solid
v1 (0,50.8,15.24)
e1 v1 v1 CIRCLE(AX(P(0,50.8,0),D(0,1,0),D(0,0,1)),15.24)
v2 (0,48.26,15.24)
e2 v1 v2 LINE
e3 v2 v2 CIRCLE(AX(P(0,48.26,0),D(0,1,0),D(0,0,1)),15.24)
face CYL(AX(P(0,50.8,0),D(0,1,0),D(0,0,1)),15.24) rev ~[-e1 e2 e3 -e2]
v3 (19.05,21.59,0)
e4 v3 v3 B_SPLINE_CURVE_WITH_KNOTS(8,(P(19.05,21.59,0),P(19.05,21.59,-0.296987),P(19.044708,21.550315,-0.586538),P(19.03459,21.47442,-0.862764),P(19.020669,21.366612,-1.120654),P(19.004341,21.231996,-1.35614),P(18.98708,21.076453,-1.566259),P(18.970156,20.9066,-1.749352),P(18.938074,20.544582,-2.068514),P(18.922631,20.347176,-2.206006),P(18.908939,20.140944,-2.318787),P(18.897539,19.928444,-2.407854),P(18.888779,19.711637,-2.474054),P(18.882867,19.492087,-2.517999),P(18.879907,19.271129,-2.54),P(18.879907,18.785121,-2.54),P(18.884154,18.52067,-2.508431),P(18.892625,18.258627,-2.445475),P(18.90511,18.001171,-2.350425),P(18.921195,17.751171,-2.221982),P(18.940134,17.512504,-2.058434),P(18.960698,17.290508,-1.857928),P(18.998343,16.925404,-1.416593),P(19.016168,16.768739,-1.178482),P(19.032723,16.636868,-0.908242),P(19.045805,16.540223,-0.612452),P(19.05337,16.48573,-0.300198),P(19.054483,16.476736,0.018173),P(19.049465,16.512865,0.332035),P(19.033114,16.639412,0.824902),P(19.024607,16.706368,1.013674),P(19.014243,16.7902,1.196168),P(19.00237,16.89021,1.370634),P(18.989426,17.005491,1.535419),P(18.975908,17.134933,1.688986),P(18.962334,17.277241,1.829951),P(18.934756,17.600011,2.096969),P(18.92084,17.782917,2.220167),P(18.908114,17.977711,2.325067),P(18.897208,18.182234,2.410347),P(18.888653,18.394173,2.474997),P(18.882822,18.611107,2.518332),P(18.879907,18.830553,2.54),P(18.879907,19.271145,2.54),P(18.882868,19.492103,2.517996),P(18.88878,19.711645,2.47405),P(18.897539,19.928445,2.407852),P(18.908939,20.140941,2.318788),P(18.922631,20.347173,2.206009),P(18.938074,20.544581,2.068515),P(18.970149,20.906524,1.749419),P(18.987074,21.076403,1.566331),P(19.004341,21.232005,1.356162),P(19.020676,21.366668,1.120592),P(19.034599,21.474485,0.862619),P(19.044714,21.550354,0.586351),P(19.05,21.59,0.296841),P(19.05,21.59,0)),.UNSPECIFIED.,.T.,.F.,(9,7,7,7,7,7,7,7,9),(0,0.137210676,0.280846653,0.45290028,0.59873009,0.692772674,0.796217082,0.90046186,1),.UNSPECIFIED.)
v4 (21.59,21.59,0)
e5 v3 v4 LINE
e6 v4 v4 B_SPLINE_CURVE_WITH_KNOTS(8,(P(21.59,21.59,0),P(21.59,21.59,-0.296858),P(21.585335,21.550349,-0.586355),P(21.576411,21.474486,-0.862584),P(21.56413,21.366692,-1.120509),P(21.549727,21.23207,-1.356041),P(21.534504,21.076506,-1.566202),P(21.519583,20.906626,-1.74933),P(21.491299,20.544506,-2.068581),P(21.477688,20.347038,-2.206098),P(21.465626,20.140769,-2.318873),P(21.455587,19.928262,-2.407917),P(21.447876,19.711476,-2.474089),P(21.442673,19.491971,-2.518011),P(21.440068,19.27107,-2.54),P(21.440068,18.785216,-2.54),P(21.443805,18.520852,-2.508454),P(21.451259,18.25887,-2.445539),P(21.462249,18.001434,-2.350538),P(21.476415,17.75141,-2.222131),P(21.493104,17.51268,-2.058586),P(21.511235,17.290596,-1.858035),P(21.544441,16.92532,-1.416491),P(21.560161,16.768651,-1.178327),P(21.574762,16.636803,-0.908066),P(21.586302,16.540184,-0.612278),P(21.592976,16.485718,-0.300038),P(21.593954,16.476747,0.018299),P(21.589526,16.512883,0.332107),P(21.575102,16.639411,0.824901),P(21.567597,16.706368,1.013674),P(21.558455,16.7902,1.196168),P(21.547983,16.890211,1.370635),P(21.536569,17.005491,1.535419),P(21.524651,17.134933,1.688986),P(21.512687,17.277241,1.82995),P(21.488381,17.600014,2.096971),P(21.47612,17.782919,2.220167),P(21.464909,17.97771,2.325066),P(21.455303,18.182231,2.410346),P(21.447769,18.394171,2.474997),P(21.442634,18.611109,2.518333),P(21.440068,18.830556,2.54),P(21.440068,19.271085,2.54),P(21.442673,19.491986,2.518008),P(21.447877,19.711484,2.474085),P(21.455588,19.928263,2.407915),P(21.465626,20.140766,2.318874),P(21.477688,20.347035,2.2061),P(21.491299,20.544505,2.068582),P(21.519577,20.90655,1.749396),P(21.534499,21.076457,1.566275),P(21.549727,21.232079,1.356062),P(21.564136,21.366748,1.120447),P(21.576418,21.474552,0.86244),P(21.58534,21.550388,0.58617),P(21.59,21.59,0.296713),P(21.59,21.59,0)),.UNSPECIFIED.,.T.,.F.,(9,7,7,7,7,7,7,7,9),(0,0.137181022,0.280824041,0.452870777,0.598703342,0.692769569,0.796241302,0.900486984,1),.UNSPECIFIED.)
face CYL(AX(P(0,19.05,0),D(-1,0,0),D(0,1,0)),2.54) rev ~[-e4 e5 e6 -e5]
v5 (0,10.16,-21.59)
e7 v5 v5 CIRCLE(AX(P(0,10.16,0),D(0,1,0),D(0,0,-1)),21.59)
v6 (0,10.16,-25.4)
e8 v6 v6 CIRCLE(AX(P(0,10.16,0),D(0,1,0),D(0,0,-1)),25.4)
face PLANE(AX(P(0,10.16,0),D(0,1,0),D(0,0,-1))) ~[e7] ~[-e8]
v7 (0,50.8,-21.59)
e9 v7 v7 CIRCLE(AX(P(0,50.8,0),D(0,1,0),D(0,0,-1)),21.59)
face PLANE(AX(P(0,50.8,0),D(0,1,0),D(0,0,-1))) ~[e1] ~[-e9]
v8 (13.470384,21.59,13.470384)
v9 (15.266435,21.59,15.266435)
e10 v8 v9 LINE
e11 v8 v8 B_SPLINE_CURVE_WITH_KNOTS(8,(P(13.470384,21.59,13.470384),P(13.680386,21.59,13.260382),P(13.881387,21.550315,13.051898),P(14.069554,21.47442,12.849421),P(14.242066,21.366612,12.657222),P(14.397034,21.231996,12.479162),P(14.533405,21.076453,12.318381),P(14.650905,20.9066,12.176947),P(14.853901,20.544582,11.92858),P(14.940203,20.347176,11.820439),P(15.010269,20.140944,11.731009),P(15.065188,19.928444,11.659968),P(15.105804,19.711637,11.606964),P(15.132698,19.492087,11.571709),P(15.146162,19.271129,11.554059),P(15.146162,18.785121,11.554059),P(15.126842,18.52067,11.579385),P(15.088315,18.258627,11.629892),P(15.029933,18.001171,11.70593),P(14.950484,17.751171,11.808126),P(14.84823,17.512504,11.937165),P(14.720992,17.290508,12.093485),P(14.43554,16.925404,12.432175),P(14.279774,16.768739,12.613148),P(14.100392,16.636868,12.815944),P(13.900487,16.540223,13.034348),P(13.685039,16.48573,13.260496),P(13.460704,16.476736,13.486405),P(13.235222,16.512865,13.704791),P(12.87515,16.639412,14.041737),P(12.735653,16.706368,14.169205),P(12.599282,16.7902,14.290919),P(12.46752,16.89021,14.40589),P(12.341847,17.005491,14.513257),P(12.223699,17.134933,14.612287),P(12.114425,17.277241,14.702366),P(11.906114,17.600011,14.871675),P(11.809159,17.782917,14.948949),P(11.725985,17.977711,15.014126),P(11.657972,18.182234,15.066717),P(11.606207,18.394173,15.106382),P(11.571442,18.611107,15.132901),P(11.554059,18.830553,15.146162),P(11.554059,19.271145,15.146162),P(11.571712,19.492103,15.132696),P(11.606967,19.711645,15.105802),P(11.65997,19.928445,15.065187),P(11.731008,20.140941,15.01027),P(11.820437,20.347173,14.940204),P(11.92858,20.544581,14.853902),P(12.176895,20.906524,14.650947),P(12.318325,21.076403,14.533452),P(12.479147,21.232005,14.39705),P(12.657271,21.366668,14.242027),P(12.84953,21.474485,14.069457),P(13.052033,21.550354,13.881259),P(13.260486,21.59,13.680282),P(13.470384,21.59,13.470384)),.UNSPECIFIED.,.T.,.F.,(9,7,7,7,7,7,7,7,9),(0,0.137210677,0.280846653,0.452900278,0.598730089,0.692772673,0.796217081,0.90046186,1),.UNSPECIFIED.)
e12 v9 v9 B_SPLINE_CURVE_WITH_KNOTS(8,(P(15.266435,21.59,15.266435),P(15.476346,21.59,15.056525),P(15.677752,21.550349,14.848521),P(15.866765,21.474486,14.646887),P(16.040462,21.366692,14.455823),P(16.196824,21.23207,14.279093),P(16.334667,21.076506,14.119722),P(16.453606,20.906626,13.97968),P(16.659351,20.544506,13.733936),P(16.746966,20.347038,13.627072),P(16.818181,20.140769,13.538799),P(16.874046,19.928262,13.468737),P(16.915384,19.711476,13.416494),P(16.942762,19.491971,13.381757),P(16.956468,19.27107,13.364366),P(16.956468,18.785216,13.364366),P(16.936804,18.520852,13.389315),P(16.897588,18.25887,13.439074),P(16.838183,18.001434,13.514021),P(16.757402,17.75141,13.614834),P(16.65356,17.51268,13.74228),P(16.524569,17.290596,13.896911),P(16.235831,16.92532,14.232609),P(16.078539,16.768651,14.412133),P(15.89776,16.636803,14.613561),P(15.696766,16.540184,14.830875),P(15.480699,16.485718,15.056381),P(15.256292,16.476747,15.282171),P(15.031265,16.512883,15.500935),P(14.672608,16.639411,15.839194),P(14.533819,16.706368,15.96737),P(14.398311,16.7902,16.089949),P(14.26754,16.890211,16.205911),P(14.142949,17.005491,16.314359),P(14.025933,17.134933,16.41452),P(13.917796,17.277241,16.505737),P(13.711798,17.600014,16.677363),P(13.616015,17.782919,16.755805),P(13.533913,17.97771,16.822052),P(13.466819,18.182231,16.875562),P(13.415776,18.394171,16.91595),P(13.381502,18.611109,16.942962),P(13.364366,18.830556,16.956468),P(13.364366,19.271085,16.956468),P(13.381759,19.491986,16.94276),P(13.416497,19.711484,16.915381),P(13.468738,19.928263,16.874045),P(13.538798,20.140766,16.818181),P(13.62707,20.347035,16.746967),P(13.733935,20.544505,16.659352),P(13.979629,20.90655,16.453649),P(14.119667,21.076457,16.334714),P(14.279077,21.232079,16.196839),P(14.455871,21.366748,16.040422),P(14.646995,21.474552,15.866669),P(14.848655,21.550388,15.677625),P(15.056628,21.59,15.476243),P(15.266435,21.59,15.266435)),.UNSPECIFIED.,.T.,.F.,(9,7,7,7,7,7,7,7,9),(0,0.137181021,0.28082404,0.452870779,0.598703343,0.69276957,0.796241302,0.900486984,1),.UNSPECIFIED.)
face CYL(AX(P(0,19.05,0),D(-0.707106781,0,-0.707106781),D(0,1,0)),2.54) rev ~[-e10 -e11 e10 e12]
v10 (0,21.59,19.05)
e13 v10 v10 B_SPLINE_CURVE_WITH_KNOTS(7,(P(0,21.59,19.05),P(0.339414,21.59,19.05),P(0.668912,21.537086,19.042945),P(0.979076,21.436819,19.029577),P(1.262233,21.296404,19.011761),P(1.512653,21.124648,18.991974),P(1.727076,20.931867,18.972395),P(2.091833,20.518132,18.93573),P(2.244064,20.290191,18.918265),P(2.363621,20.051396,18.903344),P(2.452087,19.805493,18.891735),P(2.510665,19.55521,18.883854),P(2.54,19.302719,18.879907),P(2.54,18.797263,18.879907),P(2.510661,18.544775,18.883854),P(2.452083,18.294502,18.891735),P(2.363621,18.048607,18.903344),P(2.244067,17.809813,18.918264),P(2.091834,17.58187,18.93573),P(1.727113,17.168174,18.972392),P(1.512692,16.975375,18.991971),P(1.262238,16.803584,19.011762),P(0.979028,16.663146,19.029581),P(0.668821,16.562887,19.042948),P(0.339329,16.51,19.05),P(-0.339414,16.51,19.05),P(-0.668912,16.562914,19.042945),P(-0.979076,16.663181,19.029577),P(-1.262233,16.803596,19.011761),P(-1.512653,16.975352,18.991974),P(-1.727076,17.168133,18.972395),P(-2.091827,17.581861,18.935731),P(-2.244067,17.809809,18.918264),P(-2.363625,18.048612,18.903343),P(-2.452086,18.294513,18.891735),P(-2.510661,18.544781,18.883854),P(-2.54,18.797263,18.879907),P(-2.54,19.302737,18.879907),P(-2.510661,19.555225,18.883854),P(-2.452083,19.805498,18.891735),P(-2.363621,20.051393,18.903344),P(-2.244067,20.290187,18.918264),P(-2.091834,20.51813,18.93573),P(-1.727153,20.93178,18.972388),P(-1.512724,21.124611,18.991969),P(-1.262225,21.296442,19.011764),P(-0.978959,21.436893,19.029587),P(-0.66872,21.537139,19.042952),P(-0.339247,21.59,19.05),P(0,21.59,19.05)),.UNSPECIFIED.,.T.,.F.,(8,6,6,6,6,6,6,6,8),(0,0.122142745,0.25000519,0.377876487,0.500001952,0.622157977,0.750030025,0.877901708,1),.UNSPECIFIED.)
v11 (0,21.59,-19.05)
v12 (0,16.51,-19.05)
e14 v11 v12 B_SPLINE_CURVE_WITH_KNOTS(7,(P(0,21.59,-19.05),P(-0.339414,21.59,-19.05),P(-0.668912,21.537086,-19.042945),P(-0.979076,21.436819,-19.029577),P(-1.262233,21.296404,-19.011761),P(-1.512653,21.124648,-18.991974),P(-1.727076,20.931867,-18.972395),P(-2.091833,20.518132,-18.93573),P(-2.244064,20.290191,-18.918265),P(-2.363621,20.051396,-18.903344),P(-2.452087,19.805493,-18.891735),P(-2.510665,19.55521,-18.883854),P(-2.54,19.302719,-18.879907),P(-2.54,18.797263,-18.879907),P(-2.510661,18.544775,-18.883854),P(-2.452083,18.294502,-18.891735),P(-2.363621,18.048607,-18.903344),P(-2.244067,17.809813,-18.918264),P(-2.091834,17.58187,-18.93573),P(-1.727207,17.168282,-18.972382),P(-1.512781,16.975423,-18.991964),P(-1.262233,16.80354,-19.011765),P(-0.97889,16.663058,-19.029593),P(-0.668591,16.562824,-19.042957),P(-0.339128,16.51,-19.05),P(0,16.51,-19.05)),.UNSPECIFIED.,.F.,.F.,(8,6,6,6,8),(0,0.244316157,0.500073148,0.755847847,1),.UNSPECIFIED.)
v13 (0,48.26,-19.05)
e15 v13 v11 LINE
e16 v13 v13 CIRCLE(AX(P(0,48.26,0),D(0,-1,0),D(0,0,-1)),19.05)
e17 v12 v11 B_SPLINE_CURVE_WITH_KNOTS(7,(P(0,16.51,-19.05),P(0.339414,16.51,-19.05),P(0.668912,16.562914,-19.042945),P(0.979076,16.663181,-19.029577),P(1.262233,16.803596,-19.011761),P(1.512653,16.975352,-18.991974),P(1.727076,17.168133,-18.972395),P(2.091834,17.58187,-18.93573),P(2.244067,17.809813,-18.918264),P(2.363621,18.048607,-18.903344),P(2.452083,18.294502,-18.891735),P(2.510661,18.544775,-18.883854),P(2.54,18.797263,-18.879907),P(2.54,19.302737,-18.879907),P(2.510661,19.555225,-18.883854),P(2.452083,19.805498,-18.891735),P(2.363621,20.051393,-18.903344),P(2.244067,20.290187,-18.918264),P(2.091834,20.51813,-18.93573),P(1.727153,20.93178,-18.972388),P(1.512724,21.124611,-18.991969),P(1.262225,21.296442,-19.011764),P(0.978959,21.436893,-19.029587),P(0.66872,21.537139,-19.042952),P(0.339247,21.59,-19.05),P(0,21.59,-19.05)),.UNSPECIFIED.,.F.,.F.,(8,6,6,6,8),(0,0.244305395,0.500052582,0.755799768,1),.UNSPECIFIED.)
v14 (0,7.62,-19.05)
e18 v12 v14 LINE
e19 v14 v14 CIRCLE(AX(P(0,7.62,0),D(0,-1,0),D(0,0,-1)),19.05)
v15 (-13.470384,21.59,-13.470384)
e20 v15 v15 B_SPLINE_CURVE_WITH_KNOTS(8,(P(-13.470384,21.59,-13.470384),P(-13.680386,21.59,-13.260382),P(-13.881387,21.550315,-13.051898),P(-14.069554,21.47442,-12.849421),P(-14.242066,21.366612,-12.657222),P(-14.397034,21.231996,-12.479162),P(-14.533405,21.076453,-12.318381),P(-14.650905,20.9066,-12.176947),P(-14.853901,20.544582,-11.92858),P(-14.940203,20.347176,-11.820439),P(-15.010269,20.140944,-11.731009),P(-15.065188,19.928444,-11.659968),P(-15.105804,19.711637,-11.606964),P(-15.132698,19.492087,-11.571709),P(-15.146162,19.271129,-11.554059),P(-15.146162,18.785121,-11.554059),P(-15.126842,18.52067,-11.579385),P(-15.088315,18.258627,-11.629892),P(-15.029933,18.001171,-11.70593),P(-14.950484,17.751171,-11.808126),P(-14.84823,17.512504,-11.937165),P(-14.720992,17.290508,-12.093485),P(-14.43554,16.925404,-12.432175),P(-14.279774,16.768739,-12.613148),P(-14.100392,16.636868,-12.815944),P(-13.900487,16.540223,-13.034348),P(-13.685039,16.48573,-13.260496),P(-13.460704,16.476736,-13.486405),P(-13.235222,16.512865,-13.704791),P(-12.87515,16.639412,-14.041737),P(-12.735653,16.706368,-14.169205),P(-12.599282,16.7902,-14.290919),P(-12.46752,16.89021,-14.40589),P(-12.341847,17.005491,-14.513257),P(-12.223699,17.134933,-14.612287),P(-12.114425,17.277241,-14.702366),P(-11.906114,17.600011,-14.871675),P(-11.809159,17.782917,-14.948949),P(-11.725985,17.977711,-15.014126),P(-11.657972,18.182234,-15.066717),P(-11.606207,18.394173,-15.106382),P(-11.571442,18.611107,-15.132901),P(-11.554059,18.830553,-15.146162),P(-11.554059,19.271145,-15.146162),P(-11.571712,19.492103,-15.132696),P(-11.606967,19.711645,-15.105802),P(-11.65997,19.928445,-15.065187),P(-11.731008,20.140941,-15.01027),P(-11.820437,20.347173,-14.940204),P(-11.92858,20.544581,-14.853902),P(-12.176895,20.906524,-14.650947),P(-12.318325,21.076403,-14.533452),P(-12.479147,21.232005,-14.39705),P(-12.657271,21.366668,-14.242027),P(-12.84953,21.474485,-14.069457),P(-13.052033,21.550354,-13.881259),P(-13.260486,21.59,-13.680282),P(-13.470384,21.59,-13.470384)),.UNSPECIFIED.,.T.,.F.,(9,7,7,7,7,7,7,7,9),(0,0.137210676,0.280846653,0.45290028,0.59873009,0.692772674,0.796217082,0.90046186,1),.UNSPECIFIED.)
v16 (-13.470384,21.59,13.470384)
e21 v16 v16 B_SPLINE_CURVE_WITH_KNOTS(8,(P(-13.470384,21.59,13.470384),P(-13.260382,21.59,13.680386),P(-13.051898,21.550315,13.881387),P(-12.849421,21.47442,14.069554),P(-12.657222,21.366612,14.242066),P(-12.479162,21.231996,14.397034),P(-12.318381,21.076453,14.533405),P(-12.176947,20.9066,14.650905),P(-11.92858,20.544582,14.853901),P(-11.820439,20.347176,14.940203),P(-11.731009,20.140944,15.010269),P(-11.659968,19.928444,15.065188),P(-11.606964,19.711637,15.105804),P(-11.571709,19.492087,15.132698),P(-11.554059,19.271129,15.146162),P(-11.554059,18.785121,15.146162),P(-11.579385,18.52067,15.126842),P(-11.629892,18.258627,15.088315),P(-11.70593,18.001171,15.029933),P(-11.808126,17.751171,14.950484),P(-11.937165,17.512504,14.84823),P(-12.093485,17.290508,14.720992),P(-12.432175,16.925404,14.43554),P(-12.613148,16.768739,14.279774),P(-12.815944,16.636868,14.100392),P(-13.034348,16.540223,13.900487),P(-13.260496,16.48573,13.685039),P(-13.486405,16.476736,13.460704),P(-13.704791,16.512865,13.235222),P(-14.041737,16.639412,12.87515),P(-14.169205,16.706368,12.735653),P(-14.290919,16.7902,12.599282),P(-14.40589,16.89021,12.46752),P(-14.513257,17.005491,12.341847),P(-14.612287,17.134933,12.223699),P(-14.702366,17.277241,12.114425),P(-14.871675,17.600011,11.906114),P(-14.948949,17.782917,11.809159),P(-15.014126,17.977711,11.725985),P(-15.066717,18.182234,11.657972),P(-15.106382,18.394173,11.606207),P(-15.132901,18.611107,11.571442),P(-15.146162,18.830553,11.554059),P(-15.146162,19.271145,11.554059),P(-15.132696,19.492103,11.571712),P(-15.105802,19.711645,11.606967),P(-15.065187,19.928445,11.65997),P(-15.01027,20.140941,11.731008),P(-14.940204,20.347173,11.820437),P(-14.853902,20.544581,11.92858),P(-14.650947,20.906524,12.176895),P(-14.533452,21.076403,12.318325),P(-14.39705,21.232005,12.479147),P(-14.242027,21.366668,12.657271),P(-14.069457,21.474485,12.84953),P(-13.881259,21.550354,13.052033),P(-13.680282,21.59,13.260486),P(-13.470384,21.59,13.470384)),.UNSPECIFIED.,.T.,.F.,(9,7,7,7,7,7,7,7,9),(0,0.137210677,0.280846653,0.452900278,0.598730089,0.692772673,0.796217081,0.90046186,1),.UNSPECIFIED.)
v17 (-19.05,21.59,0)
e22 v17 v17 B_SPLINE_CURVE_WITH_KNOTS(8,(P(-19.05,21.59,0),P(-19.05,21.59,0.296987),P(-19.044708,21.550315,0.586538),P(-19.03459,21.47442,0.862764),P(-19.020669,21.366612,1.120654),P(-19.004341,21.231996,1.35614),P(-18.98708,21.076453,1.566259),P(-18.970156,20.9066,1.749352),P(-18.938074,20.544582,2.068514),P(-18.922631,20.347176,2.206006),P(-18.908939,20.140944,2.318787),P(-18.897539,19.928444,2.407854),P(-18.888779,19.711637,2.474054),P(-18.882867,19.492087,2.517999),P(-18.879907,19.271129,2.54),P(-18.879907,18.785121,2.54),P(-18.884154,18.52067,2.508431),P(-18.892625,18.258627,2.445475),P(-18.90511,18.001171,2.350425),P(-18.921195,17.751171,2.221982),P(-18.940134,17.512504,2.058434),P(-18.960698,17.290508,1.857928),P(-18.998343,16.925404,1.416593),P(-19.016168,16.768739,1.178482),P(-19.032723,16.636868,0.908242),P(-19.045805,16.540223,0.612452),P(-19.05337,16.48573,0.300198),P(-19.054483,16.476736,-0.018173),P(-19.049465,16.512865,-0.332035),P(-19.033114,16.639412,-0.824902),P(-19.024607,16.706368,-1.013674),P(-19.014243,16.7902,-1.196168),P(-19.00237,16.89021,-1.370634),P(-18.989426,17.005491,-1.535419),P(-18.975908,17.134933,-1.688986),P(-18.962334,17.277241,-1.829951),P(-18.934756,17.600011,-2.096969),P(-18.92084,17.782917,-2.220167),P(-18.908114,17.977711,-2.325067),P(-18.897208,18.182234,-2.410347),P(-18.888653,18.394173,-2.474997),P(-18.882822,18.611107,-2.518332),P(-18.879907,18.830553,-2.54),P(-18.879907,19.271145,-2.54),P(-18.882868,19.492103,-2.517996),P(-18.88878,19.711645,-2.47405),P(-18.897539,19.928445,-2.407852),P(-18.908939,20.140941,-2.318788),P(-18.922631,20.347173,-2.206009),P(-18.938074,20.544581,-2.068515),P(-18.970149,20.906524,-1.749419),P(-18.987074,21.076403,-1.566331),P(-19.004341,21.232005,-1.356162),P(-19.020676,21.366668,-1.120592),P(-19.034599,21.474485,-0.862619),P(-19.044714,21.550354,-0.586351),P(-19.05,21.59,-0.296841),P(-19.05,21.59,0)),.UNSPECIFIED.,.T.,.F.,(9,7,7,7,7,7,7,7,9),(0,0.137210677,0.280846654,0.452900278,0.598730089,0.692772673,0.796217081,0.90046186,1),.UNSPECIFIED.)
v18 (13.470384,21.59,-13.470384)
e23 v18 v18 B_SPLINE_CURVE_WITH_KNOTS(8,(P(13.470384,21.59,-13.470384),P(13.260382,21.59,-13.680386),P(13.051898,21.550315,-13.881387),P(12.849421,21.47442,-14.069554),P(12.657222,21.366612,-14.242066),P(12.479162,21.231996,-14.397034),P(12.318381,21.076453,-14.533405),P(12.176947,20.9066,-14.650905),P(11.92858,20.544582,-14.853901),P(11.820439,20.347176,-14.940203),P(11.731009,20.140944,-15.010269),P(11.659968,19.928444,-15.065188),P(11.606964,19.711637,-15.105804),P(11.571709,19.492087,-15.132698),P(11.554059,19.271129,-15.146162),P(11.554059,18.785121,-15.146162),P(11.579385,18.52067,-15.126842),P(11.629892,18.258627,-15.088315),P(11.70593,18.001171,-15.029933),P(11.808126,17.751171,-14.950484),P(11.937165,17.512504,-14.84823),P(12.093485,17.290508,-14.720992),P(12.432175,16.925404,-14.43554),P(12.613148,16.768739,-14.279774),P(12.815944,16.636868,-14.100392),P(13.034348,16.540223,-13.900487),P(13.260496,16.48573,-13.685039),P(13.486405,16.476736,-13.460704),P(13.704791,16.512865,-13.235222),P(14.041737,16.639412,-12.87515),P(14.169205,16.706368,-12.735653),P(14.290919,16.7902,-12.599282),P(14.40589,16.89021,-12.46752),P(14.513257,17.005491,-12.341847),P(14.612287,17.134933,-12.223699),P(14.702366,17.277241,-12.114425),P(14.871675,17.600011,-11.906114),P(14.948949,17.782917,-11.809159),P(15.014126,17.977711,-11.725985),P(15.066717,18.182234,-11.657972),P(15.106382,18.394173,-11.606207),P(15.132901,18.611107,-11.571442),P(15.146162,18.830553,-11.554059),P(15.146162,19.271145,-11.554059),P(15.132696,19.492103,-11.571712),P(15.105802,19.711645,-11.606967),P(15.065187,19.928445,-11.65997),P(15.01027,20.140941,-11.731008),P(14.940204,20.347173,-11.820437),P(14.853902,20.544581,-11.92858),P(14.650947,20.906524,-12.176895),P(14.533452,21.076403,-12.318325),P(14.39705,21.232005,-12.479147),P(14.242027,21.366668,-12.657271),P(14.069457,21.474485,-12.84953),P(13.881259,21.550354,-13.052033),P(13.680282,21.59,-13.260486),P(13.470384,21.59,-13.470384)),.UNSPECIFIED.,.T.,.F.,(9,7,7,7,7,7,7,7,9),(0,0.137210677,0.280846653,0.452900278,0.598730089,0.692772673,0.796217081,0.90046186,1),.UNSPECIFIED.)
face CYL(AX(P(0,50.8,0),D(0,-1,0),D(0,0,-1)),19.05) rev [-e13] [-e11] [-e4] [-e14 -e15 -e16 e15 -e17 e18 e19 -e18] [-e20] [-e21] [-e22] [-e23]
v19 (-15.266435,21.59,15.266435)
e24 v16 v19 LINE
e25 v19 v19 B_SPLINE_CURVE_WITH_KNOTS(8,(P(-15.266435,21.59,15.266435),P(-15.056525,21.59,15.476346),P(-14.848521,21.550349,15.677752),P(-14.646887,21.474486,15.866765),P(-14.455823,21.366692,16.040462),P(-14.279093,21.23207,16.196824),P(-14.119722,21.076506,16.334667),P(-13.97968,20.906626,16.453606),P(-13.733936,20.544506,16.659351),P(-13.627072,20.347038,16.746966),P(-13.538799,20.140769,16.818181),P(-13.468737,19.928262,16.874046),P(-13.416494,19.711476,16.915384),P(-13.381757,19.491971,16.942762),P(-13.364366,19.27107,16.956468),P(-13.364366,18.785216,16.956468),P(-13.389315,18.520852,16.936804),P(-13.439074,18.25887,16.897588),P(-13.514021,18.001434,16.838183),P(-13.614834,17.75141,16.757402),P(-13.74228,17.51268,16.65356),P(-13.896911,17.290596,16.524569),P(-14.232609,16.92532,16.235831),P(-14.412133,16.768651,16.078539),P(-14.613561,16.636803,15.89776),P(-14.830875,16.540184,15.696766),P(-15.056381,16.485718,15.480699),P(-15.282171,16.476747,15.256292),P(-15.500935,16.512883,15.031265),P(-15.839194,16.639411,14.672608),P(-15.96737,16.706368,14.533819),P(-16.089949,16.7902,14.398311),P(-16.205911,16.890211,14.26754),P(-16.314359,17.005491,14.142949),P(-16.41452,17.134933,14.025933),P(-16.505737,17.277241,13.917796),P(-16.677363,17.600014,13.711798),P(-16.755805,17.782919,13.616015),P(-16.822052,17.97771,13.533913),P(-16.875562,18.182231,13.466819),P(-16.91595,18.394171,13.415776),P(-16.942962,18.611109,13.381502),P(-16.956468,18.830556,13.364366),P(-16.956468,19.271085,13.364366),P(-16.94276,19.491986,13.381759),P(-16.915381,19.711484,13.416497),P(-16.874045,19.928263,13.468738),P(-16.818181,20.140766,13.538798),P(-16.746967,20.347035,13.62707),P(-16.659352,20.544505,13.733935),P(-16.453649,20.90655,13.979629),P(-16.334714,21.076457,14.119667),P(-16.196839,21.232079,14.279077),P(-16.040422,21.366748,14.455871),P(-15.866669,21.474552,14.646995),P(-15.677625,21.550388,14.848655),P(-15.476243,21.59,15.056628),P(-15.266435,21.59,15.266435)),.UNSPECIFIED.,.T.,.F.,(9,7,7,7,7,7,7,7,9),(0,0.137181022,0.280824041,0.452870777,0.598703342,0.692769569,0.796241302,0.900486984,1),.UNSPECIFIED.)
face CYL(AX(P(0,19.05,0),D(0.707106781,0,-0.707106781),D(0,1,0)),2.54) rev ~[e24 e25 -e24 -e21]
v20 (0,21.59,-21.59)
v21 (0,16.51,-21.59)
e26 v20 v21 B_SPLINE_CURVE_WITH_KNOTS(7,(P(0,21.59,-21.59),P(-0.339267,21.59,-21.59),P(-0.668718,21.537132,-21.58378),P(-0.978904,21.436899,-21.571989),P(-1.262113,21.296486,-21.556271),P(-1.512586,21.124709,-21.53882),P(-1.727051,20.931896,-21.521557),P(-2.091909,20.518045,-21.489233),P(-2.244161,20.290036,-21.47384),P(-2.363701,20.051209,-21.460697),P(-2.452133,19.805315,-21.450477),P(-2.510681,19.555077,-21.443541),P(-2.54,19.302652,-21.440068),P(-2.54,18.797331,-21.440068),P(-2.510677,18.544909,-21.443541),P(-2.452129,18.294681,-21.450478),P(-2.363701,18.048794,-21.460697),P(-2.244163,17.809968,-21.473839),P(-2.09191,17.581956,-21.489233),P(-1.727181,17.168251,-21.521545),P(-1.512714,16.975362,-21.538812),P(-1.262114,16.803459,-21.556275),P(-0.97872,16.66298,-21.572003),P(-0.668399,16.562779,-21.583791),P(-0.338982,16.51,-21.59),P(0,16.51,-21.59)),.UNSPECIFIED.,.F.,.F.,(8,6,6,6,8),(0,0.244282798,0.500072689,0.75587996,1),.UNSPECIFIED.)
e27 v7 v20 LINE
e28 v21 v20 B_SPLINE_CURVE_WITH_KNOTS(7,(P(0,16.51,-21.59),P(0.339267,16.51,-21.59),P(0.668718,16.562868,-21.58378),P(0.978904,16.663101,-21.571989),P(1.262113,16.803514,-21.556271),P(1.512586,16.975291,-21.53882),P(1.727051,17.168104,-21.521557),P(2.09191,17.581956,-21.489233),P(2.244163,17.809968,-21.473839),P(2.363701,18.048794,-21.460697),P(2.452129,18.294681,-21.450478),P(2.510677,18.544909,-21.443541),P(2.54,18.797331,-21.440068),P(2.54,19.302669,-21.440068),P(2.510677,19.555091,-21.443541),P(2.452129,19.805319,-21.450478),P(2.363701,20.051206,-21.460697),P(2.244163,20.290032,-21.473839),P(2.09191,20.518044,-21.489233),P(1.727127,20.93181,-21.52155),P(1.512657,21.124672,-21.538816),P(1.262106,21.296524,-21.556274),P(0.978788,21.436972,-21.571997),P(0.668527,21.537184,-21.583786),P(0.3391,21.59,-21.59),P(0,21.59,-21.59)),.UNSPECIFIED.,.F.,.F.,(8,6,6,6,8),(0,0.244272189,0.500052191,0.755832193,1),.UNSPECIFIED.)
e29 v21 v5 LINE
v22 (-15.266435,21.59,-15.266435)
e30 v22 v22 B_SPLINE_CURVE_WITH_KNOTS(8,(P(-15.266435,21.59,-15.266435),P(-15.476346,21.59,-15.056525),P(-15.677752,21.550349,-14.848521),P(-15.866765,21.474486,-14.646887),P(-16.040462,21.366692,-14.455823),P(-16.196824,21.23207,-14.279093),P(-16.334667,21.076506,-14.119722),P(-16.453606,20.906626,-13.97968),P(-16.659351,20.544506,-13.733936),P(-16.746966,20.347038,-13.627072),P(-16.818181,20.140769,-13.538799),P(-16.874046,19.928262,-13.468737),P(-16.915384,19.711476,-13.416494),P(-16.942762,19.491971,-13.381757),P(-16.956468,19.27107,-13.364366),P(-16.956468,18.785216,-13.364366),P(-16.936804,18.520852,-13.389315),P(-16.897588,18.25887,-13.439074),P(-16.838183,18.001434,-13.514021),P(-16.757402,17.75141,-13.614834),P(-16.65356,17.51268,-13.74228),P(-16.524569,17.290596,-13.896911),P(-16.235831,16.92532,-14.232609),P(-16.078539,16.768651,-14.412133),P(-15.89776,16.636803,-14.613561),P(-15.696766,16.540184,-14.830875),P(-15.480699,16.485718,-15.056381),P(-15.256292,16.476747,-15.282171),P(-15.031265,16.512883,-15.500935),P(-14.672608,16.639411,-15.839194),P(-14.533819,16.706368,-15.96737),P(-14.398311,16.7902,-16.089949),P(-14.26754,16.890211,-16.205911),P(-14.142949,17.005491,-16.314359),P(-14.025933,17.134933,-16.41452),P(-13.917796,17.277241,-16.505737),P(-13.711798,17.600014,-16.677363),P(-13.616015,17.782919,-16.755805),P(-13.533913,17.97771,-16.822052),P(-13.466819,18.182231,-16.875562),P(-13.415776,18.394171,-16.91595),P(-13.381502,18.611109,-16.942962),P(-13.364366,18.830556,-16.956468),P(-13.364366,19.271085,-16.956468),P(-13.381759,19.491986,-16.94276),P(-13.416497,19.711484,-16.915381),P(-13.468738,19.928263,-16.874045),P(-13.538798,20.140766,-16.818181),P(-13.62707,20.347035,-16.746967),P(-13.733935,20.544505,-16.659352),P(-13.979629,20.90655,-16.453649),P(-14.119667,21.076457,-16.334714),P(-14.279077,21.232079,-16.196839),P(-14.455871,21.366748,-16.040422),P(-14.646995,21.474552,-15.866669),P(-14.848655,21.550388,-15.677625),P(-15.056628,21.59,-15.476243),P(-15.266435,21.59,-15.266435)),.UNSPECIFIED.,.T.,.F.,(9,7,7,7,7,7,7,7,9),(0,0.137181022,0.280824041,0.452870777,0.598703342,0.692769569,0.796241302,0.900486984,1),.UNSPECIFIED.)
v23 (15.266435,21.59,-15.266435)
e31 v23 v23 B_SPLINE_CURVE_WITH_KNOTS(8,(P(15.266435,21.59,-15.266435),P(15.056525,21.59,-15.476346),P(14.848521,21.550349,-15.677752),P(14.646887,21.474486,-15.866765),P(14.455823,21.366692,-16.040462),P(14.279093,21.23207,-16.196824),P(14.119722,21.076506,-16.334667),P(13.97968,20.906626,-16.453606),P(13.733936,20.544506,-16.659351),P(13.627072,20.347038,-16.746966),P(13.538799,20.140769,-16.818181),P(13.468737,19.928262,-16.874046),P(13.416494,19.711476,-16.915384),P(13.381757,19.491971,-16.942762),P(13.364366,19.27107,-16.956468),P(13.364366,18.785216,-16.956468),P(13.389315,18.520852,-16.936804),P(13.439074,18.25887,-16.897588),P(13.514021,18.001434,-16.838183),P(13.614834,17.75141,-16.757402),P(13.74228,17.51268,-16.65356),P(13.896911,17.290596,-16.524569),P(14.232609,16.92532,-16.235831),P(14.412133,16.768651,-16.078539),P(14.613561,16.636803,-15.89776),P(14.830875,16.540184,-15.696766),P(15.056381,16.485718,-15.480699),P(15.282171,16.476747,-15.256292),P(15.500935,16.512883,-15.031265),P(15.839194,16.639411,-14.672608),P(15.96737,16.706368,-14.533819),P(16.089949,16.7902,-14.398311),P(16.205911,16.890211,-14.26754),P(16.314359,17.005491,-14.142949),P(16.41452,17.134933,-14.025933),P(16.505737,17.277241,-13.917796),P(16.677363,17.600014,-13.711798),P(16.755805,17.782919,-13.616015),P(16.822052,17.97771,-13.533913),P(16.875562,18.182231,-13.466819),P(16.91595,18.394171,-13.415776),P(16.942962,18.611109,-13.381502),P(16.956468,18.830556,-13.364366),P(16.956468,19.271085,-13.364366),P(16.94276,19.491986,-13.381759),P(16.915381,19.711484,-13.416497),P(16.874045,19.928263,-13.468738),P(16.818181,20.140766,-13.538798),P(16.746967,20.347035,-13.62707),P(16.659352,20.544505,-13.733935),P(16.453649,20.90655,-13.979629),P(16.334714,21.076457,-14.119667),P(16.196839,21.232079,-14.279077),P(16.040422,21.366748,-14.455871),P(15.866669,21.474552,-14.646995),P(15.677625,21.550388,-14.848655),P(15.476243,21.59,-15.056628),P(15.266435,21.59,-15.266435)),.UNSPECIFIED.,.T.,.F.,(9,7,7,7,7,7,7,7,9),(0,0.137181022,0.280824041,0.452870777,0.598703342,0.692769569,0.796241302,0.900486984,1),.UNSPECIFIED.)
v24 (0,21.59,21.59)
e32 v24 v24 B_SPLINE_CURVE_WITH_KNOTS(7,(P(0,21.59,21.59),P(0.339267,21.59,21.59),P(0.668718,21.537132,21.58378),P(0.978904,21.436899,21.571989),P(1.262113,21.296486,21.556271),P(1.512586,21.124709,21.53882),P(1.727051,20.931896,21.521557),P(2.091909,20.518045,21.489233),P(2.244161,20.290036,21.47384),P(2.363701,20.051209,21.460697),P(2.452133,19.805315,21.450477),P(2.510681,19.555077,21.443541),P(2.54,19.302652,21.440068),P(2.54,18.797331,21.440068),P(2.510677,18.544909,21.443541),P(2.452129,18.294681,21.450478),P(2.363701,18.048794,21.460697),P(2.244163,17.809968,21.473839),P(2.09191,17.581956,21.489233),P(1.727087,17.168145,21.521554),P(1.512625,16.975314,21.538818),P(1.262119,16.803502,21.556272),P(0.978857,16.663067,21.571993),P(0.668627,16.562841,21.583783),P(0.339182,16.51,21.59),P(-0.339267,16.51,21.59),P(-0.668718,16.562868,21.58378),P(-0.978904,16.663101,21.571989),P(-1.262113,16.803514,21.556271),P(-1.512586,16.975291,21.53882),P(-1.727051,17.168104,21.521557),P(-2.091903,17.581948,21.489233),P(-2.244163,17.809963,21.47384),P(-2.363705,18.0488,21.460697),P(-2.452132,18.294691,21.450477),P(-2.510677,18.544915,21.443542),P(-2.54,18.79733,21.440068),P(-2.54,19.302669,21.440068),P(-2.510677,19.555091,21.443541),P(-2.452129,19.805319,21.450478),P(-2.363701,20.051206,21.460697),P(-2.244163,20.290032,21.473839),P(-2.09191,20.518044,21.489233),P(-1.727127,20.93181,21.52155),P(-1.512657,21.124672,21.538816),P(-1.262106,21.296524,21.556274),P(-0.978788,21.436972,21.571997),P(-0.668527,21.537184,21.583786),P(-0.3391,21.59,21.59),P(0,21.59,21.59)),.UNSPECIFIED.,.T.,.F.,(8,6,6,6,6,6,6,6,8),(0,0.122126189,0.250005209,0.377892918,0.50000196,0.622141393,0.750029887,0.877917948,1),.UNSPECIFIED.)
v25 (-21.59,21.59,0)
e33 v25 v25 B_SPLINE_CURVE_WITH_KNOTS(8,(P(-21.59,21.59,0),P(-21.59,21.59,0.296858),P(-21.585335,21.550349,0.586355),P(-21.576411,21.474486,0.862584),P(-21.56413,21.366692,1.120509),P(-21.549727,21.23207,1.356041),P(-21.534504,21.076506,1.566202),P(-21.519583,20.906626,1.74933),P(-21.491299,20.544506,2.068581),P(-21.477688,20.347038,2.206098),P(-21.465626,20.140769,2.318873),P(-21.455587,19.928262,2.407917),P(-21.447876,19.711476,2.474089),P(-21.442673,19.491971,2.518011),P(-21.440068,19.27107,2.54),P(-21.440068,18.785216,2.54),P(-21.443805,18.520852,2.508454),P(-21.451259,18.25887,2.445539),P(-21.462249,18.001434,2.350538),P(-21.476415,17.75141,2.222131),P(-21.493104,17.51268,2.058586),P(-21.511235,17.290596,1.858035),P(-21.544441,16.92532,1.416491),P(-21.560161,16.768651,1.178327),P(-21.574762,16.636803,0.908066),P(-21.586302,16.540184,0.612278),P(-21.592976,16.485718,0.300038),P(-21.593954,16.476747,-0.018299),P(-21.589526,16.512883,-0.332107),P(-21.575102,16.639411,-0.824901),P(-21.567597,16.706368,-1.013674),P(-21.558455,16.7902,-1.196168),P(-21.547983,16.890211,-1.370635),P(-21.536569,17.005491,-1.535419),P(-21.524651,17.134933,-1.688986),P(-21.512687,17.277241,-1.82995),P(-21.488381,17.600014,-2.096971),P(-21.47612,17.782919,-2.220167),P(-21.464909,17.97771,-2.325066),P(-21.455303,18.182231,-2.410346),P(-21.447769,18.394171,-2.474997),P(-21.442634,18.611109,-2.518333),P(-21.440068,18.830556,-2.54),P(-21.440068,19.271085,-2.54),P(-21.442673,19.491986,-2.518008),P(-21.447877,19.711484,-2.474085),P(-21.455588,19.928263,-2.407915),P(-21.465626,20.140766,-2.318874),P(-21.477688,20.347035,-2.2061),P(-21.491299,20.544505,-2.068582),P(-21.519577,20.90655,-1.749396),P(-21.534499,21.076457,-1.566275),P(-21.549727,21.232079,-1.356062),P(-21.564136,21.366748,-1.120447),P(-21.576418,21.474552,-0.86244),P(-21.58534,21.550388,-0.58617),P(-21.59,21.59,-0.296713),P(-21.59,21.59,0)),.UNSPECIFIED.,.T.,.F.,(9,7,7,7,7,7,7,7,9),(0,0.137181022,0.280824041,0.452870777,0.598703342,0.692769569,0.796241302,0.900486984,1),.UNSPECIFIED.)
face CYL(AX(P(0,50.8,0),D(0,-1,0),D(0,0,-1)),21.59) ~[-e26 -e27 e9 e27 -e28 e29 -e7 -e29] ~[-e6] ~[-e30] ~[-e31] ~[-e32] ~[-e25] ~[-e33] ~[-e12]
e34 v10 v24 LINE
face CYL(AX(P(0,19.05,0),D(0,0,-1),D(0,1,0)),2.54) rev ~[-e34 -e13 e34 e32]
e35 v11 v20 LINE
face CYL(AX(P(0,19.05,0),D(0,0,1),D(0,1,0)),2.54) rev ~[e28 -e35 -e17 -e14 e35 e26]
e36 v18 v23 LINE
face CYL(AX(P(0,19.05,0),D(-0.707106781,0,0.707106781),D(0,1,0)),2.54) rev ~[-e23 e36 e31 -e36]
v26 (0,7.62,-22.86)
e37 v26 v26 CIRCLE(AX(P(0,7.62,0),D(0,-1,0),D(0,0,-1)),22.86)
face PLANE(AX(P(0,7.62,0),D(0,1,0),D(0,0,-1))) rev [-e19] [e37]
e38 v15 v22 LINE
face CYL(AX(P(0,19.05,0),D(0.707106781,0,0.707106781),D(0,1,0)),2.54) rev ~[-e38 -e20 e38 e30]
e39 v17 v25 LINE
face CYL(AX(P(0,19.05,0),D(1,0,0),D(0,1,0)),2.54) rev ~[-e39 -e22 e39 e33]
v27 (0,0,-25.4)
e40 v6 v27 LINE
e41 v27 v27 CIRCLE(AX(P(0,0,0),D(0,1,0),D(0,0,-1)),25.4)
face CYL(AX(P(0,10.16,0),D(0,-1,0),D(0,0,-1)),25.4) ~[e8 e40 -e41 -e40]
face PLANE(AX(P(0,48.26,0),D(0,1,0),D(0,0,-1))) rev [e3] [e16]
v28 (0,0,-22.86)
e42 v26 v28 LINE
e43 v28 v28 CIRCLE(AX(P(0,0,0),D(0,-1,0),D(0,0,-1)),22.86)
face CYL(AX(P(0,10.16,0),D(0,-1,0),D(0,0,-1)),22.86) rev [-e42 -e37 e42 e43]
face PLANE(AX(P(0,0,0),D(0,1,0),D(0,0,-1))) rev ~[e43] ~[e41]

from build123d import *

# Parameters (mm, degrees)
SHELL3_T           = -2.54
SKETCH2_R          = 15.24
CUT_EXTRUDE2_DEPTH = 63.217039467
SKETCH3_R          = 2.54
CUT_EXTRUDE3_DEPTH = 63.217039467
CIRPATTERN1_COUNT  = 8


with BuildPart() as part:
    # Sketch1 → Revolve1 (revolve)
    with BuildSketch(Plane.XY, mode=Mode.PRIVATE) as revolve1_sk:
        Polygon((0, 0), (0, 50.8), (21.59, 50.8), (21.59, 10.16), (25.4, 10.16), (25.4, 0), align=None)
    revolve(revolve1_sk.sketch.rotate(Axis((0, 0, 0), (0, 1, 0)), 90), axis=Axis((0, 0, 0), (0, 1, 0)))

    # Shell3
    shell3_openings = [part.faces().sort_by_distance(p)[0] for p in [
        (0, 0, 0),
    ]]
    offset(amount=SHELL3_T, openings=shell3_openings, kind=Kind.INTERSECTION)

    # Sketch2 → Cut-Extrude2 (cut, through all)
    with BuildSketch(Plane(origin=(0, 50.8, 0), x_dir=(1, 0, 0), z_dir=(0, 1, 0))):
        with Locations(Location((0, 0, 0), (0, 0, 270))):
            Circle(SKETCH2_R)
    extrude(amount=-CUT_EXTRUDE2_DEPTH, mode=Mode.SUBTRACT)

    # Sketch3 → Cut-Extrude3 (cut, through all)
    with BuildSketch(Plane.XY):
        with Locations(Location((0, 19.05, 0), (0, 0, 90))):
            Circle(SKETCH3_R)
    cut_extrude3 = extrude(amount=-CUT_EXTRUDE3_DEPTH, mode=Mode.SUBTRACT)

    # CirPattern1: Cut-Extrude3 ×8 about axis
    cirpattern1_axis = Axis((0, 50.8, 0), (0, -1, 0))
    for i in range(1, CIRPATTERN1_COUNT):
        add(cut_extrude3.rotate(cirpattern1_axis, i * 360 / CIRPATTERN1_COUNT), mode=Mode.SUBTRACT)


solid = part.part
